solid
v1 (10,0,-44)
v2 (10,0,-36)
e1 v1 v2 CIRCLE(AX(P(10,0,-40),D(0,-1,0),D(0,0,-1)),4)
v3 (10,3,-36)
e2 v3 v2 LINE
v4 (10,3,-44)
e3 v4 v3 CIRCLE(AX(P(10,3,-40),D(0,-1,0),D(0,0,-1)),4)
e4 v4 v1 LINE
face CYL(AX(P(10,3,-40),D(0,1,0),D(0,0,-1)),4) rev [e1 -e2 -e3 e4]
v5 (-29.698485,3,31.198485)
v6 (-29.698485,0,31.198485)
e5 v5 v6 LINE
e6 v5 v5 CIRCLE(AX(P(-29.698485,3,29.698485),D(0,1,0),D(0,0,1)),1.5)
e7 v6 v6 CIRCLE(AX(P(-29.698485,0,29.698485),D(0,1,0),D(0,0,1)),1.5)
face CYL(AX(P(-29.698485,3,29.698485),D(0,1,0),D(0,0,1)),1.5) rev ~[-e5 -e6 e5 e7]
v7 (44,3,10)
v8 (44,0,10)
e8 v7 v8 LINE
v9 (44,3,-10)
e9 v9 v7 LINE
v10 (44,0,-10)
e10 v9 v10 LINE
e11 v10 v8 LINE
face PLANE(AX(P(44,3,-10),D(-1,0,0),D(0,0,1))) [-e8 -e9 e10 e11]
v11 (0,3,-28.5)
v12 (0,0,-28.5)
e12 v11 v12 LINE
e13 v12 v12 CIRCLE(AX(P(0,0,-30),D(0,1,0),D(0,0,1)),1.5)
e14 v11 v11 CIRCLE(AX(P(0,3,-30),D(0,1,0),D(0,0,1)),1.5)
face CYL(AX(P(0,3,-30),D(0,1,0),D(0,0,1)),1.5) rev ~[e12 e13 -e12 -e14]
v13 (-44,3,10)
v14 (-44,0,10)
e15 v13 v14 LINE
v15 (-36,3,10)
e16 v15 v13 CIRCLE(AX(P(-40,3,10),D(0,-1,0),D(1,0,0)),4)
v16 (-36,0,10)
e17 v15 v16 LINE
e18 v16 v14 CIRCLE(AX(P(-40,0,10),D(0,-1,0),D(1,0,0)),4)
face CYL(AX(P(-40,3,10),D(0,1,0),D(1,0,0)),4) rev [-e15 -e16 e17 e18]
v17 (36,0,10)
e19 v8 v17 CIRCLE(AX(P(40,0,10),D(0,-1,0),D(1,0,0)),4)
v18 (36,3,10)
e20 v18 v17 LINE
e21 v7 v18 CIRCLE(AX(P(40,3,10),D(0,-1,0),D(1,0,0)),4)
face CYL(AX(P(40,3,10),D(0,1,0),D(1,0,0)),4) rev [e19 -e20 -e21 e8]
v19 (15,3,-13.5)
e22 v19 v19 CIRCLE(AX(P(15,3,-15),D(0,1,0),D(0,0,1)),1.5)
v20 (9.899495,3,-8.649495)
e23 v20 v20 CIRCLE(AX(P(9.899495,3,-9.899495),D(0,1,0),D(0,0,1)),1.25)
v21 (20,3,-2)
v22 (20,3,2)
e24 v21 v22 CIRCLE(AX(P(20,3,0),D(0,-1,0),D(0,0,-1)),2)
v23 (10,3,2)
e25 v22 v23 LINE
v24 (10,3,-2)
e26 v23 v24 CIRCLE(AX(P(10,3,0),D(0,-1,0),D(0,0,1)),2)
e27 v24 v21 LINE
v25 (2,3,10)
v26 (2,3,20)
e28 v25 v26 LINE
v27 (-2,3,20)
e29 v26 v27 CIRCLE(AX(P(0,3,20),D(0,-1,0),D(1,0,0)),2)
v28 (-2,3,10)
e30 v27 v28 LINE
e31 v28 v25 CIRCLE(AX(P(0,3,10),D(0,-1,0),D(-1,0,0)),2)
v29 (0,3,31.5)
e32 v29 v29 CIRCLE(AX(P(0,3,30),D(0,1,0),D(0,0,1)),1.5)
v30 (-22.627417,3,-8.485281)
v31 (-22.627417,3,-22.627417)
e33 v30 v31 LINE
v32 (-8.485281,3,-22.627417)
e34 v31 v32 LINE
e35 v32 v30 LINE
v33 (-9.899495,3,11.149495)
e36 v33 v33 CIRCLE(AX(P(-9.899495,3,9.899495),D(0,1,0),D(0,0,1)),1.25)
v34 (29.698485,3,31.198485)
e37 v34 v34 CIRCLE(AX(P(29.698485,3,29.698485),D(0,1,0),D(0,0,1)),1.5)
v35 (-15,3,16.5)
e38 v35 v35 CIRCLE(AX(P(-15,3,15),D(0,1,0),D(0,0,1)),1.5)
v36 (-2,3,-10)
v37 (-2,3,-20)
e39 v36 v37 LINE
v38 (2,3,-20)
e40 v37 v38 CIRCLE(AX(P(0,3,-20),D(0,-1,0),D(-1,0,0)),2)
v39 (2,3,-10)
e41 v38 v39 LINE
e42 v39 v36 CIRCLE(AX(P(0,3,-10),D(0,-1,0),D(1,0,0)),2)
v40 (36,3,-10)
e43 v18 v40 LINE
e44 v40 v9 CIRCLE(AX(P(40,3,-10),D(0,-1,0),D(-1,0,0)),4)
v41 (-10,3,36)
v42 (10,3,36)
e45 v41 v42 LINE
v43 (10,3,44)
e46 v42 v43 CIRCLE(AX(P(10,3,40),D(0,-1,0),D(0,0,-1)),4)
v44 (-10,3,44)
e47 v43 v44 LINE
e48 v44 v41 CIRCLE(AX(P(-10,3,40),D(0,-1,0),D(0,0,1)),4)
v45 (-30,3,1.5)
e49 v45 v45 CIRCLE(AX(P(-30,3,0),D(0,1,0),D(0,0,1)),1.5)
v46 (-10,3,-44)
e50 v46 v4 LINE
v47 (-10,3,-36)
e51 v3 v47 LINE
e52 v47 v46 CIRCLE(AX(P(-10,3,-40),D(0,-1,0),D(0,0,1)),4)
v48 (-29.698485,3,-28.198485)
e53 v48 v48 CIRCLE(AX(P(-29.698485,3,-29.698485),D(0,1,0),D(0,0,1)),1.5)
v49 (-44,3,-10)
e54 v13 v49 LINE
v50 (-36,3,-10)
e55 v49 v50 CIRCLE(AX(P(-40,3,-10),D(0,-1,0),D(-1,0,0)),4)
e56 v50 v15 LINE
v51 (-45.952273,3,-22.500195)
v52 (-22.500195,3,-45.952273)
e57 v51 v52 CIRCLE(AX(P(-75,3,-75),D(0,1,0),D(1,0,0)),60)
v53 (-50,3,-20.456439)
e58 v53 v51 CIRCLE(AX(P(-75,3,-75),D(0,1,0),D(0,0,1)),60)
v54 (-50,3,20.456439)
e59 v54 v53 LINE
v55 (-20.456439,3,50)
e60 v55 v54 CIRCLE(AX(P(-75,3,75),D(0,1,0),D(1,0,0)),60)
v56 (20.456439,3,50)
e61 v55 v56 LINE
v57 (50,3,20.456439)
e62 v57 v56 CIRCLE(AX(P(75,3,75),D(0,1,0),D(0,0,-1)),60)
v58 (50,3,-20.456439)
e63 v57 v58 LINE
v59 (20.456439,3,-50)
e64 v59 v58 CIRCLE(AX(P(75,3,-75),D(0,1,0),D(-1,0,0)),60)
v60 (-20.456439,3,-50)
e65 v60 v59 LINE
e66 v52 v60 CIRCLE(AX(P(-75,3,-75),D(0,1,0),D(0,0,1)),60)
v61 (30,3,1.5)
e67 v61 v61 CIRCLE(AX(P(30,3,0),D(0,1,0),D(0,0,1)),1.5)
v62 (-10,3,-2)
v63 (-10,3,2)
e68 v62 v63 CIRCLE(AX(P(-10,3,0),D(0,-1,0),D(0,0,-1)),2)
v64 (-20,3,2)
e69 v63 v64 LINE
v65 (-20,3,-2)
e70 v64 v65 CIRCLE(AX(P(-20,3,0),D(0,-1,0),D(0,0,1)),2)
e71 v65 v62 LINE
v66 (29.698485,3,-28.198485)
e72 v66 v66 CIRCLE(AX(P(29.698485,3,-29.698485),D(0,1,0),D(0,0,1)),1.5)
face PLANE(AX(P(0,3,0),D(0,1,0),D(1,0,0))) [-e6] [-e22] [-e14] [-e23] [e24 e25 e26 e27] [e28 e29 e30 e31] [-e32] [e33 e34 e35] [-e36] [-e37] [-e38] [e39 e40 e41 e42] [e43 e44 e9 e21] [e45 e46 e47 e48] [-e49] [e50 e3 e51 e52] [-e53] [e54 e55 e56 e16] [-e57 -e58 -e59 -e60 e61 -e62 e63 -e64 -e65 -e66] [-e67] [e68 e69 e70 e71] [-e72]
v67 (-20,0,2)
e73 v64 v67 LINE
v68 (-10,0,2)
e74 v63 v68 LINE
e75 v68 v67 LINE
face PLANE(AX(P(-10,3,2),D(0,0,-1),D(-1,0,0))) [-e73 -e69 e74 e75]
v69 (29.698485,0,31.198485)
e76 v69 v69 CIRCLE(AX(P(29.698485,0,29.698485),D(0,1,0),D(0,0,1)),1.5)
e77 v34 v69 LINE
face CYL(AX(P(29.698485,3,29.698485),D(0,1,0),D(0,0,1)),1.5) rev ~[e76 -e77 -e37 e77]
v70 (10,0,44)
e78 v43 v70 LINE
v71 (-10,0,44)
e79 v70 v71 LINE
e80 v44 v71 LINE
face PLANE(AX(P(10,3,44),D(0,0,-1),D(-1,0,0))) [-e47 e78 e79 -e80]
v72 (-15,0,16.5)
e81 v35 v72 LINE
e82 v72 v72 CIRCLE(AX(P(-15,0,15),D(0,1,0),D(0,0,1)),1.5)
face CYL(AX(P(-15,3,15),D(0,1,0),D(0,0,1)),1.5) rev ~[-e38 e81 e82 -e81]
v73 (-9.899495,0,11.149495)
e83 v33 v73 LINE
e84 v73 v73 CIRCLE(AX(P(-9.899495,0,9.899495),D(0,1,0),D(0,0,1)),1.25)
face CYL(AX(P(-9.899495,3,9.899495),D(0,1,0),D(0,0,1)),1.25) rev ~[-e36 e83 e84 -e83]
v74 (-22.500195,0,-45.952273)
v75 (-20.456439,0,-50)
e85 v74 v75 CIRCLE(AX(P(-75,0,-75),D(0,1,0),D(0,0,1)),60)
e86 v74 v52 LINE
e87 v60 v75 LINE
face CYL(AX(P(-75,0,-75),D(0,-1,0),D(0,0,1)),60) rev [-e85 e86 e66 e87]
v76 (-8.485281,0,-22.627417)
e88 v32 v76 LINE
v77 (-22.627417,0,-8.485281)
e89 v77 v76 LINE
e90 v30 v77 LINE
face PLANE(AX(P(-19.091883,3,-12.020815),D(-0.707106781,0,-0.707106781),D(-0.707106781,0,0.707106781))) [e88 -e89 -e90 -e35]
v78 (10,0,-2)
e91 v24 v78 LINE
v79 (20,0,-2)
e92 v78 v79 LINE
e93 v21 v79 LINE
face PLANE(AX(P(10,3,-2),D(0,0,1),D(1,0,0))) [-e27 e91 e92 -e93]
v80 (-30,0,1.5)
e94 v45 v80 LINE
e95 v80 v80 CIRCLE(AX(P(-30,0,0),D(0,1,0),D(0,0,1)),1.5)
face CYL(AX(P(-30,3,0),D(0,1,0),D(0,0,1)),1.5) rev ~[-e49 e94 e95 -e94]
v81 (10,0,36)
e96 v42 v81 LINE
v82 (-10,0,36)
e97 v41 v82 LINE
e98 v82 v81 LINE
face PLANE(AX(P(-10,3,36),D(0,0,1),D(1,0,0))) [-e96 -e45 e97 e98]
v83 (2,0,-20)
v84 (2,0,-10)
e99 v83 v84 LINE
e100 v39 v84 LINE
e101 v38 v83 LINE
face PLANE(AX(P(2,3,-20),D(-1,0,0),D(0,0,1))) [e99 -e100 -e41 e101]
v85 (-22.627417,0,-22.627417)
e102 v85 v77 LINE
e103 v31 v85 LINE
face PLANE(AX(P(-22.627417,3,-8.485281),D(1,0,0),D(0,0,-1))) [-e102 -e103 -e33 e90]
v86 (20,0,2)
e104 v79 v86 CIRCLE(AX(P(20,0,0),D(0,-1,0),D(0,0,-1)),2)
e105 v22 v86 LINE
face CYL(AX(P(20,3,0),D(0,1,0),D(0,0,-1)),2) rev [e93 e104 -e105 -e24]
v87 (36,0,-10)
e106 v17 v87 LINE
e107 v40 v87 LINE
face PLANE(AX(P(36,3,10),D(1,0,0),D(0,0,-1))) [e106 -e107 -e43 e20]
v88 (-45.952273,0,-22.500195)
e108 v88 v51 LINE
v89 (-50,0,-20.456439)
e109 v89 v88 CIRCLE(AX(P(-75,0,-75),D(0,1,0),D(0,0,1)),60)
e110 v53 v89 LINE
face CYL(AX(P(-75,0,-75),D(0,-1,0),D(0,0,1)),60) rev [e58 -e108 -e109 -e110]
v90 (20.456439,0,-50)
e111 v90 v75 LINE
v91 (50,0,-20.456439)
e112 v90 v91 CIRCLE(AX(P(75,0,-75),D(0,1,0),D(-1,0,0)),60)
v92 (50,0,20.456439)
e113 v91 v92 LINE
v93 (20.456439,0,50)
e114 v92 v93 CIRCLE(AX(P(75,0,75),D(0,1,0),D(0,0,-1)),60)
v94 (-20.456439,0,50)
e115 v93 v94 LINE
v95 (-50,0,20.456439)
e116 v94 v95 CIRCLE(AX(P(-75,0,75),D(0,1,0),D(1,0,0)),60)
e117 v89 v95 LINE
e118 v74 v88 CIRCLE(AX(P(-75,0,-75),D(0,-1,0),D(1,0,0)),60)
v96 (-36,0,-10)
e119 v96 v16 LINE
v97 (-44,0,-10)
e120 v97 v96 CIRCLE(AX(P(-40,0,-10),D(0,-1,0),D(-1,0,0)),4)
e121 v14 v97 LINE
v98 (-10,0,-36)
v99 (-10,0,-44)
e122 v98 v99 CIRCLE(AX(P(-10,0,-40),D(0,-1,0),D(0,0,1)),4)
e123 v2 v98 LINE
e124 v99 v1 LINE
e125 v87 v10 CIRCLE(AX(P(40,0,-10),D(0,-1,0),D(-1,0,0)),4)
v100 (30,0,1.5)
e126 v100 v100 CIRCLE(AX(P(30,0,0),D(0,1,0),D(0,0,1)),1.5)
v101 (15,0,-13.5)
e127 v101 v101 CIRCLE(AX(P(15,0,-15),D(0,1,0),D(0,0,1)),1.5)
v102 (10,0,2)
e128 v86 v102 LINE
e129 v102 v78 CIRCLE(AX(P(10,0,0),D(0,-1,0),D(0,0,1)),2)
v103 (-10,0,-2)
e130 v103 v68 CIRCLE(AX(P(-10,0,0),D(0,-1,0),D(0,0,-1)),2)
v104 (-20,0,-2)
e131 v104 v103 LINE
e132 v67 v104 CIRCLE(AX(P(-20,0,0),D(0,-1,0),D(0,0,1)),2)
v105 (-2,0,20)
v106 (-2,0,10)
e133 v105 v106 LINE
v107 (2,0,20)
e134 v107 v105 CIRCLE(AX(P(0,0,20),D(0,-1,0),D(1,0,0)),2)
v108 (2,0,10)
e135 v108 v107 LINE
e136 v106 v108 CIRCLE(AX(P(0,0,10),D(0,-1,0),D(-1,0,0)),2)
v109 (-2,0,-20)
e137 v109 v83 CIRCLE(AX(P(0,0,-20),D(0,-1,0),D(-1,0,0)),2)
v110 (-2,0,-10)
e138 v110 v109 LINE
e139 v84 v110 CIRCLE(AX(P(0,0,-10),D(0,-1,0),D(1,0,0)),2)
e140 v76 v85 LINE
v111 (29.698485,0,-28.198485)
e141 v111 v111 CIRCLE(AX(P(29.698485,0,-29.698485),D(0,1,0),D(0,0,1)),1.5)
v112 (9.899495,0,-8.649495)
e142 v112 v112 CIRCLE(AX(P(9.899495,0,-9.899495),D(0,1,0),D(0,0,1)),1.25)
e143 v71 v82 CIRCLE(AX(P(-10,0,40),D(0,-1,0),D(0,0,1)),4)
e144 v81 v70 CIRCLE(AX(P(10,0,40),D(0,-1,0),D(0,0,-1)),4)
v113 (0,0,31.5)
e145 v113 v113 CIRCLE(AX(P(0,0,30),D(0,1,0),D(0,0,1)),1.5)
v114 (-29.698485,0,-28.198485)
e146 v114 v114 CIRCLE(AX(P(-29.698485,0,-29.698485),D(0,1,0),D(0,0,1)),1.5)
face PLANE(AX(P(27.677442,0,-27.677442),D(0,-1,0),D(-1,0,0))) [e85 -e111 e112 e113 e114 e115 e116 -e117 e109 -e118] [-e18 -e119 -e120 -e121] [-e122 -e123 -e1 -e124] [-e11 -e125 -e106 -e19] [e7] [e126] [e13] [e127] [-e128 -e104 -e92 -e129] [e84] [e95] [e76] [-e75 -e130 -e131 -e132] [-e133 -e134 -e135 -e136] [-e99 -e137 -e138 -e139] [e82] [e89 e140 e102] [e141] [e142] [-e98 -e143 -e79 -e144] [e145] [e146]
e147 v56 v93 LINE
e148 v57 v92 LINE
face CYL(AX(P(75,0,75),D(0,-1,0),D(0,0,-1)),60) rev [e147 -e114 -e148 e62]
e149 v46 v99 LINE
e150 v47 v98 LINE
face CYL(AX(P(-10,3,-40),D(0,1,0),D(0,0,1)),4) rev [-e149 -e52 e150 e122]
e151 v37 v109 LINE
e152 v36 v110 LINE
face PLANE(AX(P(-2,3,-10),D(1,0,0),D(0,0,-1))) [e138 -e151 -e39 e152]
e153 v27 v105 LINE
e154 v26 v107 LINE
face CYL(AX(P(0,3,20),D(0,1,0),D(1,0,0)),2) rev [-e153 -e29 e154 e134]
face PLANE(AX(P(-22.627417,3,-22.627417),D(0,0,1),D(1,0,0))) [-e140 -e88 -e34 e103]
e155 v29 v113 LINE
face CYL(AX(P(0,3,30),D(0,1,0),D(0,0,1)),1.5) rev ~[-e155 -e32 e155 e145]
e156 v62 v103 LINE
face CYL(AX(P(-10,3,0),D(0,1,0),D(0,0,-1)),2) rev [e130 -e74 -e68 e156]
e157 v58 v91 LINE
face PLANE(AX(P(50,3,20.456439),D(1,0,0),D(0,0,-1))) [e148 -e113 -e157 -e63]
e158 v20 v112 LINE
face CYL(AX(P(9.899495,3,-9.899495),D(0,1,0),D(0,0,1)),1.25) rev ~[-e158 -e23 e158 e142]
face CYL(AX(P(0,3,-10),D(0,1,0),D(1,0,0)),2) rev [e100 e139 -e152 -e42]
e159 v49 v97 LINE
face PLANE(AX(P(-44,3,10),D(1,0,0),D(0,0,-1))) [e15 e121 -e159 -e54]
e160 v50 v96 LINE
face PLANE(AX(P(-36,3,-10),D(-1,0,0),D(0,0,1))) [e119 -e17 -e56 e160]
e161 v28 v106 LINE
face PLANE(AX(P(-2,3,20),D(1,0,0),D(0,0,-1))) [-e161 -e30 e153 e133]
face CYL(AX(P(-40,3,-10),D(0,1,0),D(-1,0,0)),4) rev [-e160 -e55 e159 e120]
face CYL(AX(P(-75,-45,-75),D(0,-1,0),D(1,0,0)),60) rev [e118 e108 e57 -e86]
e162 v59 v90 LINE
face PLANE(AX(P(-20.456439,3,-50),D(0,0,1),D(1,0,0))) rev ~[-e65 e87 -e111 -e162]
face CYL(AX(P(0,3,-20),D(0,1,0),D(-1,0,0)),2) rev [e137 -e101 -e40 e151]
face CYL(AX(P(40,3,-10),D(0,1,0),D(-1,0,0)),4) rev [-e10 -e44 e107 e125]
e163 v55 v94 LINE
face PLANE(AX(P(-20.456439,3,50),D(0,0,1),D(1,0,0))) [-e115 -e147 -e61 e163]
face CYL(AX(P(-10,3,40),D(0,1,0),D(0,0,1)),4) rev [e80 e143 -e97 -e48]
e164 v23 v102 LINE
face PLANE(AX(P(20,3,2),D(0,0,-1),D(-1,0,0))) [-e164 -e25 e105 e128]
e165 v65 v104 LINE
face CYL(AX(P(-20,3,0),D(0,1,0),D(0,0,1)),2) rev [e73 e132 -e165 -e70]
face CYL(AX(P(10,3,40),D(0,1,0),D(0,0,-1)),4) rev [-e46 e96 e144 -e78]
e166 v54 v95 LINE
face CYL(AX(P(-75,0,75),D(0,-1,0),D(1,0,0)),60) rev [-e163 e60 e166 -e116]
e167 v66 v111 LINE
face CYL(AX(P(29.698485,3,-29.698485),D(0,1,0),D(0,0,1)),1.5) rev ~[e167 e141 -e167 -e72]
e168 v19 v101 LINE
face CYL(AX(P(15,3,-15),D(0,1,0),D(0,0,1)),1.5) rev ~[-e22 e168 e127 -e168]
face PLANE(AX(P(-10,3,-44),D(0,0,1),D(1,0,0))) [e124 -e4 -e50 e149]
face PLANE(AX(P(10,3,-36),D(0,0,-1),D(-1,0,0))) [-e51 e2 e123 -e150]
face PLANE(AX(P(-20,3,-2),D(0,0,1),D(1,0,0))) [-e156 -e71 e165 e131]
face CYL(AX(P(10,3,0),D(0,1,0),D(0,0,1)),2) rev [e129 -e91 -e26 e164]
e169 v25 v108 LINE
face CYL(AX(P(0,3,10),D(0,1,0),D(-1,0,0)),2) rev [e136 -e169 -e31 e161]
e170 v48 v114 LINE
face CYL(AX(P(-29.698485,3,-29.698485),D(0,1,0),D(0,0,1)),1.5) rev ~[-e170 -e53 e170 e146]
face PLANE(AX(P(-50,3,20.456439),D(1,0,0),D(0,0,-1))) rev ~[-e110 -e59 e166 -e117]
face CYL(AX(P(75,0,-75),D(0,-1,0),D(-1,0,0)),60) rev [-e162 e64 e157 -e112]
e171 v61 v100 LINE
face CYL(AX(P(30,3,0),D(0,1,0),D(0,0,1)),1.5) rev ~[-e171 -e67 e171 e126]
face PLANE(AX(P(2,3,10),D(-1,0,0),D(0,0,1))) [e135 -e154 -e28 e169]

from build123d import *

# Parameters (mm, degrees)
SKETCH_1_R               = 1.25
EXTRUDE_1_DEPTH          = 3
SKETCH_2_R               = 1.5
CUT_EXTRUDE_1_DEPTH      = 3
CUT_EXTRUDE_2_DEPTH      = 3
CUT_EXTRUDE_3_DEPTH      = 3
CUT_EXTRUDE_4_DEPTH      = 10
SKETCH_6_R               = 1.5
CUT_EXTRUDE_5_DEPTH      = 10
SKETCH_7_R               = 1.5
CUT_EXTRUDE_8_DEPTH      = 10
SKETCH_8_R               = 1.5
CUT_EXTRUDE_9_DEPTH      = 10
SKETCH_9_R               = 15
CUT_EXTRUDE_10_DEPTH     = 10
SKETCH_11_R              = 1.5
EXTRUDE_3_DEPTH          = 3
CUT_EXTRUDE_12_DEPTH     = 3
EXTRUDE_4_DEPTH          = 3
SKETCH_15_R              = 15
EXTRUDE_5_DEPTH          = 3
CUT_EXTRUDE_13_DEPTH     = 3
EXTRUDE_START            = -3
EXTRUDE_7_DEPTH          = 3
CUT_EXTRUDE_14_DEPTH     = 3
CUT_EXTRUDE_15_DEPTH     = 3
PATTERN_CIRCULAR_1_COUNT = 8
SKETCH_22_R              = 1.25
CUT_EXTRUDE_17_DEPTH     = 3
SKETCH_23_R              = 1.5
CUT_EXTRUDE_18_DEPTH     = 10
SKETCH_24_R              = 1.5
CUT_EXTRUDE_19_DEPTH     = 10
CUT_EXTRUDE_START        = -48
CUT_EXTRUDE_21_DEPTH     = 48
SKETCH_26_W              = 47.062790234
SKETCH_26_H              = 40.912878854
SKETCH_26_W_2            = 40.912878854
SKETCH_26_H_2            = 47.062790234
CUT_EXTRUDE_22_DEPTH     = 48


with BuildPart() as part:
    # 草图1 → 凸台-拉伸1 (new body)
    # profile 1 of 4: a face of its own
    with BuildSketch(Plane(origin=(0, 0, 0), x_dir=(1, 0, 0), z_dir=(0, 1, 0))):
        with BuildLine():
            ThreePointArc((75, -15), (32.573593129, -32.573593129), (15, -75))
            Line((15, -75), (0, -75))
            Line((0, -75), (0, 0))
            Line((0, 0), (75, 0))
            Line((75, 0), (75, -15))
        make_face()
        with Locations(Location((11, -70, 0), (0, 0, 270))):
            Circle(SKETCH_1_R, mode=Mode.SUBTRACT)
        with Locations(Location((70, -11, 0), (0, 0, 270))):
            Circle(SKETCH_1_R, mode=Mode.SUBTRACT)
    # profile 2 of 4: a face of its own
    with BuildSketch(Plane(origin=(0, 0, 0), x_dir=(1, 0, 0), z_dir=(0, 1, 0))):
        with BuildLine():
            ThreePointArc((-15, -75), (-32.573593129, -32.573593129), (-75, -15))
            Line((-75, -15), (-75, 0))
            Line((-75, 0), (0, 0))
            Line((0, 0), (0, -75))
            Line((0, -75), (-15, -75))
        make_face()
        with Locations(Location((-70, -11, 0), (0, 0, 270))):
            Circle(SKETCH_1_R, mode=Mode.SUBTRACT)
        with Locations(Location((-11, -70, 0), (0, 0, 270))):
            Circle(SKETCH_1_R, mode=Mode.SUBTRACT)
    # profile 3 of 4: a face of its own
    with BuildSketch(Plane(origin=(0, 0, 0), x_dir=(1, 0, 0), z_dir=(0, 1, 0))):
        with BuildLine():
            ThreePointArc((-75, 15), (-32.573593129, 32.573593129), (-15, 75))
            Line((-15, 75), (0, 75))
            Line((0, 75), (0, 0))
            Line((0, 0), (-75, 0))
            Line((-75, 0), (-75, 15))
        make_face()
        with Locations(Location((-11, 70, 0), (0, 0, 270))):
            Circle(SKETCH_1_R, mode=Mode.SUBTRACT)
        with Locations(Location((-70, 11, 0), (0, 0, 270))):
            Circle(SKETCH_1_R, mode=Mode.SUBTRACT)
    # profile 4 of 4: a face of its own
    with BuildSketch(Plane(origin=(0, 0, 0), x_dir=(1, 0, 0), z_dir=(0, 1, 0))):
        with BuildLine():
            ThreePointArc((15, 75), (32.573593129, 32.573593129), (75, 15))
            Line((75, 15), (75, 0))
            Line((75, 0), (0, 0))
            Line((0, 0), (0, 75))
            Line((0, 75), (15, 75))
        make_face()
        with Locations(Location((70, 11, 0), (0, 0, 270))):
            Circle(SKETCH_1_R, mode=Mode.SUBTRACT)
        with Locations(Location((11, 70, 0), (0, 0, 270))):
            Circle(SKETCH_1_R, mode=Mode.SUBTRACT)
    extrude(amount=EXTRUDE_1_DEPTH)

    # 草图2 → 切除-拉伸1 (cut)
    with BuildSketch(Plane.XZ):
        with Locations(Location((0.353553391, -31.466251763, 0), (0, 0, 270))):
            Circle(SKETCH_2_R)
        with Locations(Location((31.466251763, -0.353553391, 0), (0, 0, 270))):
            Circle(SKETCH_2_R)
        with Locations(Location((-0.353553391, 31.466251763, 0), (0, 0, 90))):
            Circle(SKETCH_2_R)
        with Locations(Location((-31.466251763, 0.353553391, 0), (0, 0, 90))):
            Circle(SKETCH_2_R)
    extrude(amount=-CUT_EXTRUDE_1_DEPTH, mode=Mode.SUBTRACT)

    # 草图3 → 切除-拉伸2 (cut)
    with BuildSketch(Plane(origin=(0, 3, 0), x_dir=(1, 0, 0), z_dir=(0, 1, 0))):
        Polygon((-15.556349186, 15.556349186), (-12.02081528, 19.091883092), (-22.627416998, 22.627416998), align=None)
        Polygon((-19.091883092, 12.02081528), (-15.556349186, 15.556349186), (-22.627416998, 22.627416998), align=None)
    extrude(amount=-CUT_EXTRUDE_2_DEPTH, mode=Mode.SUBTRACT)

    # 草图4 → 切除-拉伸3 (cut)
    with BuildSketch(Plane(origin=(0, 3, 0), x_dir=(1, 0, 0), z_dir=(0, 1, 0))):
        with BuildLine():
            ThreePointArc((33.944668714, -19.80253309), (34.043922781, -8.582763971), (22.827665534, -8.285032838))
            Line((22.827665534, -8.285032838), (15.556349186, -15.556349186))
            Line((15.556349186, -15.556349186), (8.285032838, -22.827665534))
            ThreePointArc((8.285032838, -22.827665534), (8.582763971, -34.043922781), (19.80253309, -33.944668714))
            Line((19.80253309, -33.944668714), (33.944668714, -19.80253309))
        make_face()
    extrude(amount=-CUT_EXTRUDE_3_DEPTH, mode=Mode.SUBTRACT)

    # 草图5 → 切除-拉伸4 (cut)
    with BuildSketch(Plane(origin=(0, 3, 0), x_dir=(1, 0, 0), z_dir=(0, 1, 0))):
        Polygon((-22.627416998, 8.485281374), (-22.627416998, 22.627416998), (-19.091883092, 12.02081528), align=None)
        Polygon((-12.02081528, 19.091883092), (-22.627416998, 22.627416998), (-8.485281374, 22.627416998), align=None)
    extrude(amount=-CUT_EXTRUDE_4_DEPTH, mode=Mode.SUBTRACT)

    # 草图6 → 切除-拉伸5 (cut)
    with BuildSketch(Plane(origin=(0, 3, 0), x_dir=(1, 0, 0), z_dir=(0, 1, 0))):
        with Locations(Location((-35.355339059, -21.213203436, 0), (0, 0, 270))):
            Circle(SKETCH_6_R)
        with Locations(Location((-21.213203436, -35.355339059, 0), (0, 0, 270))):
            Circle(SKETCH_6_R)
        with Locations(Location((35.355339059, 21.213203436, 0), (0, 0, 270))):
            Circle(SKETCH_6_R)
        with Locations(Location((21.213203436, 35.355339059, 0), (0, 0, 270))):
            Circle(SKETCH_6_R)
    extrude(amount=-CUT_EXTRUDE_5_DEPTH, mode=Mode.SUBTRACT)

    # 草图7 → 切除-拉伸8 (cut)
    with BuildSketch(Plane(origin=(0, 3, 0), x_dir=(1, 0, 0), z_dir=(0, 1, 0))):
        with Locations(Location((-29.69848481, 29.69848481, 0), (0, 0, 270))):
            Circle(SKETCH_7_R)
        with Locations(Location((29.69848481, 29.69848481, 0), (0, 0, 270))):
            Circle(SKETCH_7_R)
        with Locations(Location((29.69848481, -29.69848481, 0), (0, 0, 270))):
            Circle(SKETCH_7_R)
        with Locations(Location((-29.69848481, -29.69848481, 0), (0, 0, 270))):
            Circle(SKETCH_7_R)
    extrude(amount=-CUT_EXTRUDE_8_DEPTH, mode=Mode.SUBTRACT)

    # 草图8 → 切除-拉伸9 (cut)
    with BuildSketch(Plane(origin=(0, 3, 0), x_dir=(1, 0, 0), z_dir=(0, 1, 0))):
        with Locations(Location((-11, 55, 0), (0, 0, 270))):
            Circle(SKETCH_8_R)
        with Locations(Location((11, 55, 0), (0, 0, 270))):
            Circle(SKETCH_8_R)
        with Locations(Location((55, 11, 0), (0, 0, 270))):
            Circle(SKETCH_8_R)
        with Locations(Location((55, -11, 0), (0, 0, 270))):
            Circle(SKETCH_8_R)
        with Locations(Location((11, -55, 0), (0, 0, 270))):
            Circle(SKETCH_8_R)
        with Locations(Location((-11, -55, 0), (0, 0, 270))):
            Circle(SKETCH_8_R)
        with Locations(Location((-55, -11, 0), (0, 0, 270))):
            Circle(SKETCH_8_R)
        with Locations(Location((-55, 11, 0), (0, 0, 270))):
            Circle(SKETCH_8_R)
    extrude(amount=-CUT_EXTRUDE_9_DEPTH, mode=Mode.SUBTRACT)

    # 草图9 → 切除-拉伸10 (cut)
    with BuildSketch(Plane(origin=(0, 3, 0), x_dir=(1, 0, 0), z_dir=(0, 1, 0))):
        with Locations(Location((0, 0, 0), (0, 0, 270))):
            Circle(SKETCH_9_R)
    extrude(amount=-CUT_EXTRUDE_10_DEPTH, mode=Mode.SUBTRACT)

    # 草图11 → 凸台-拉伸3 (add)
    with BuildSketch(Plane(origin=(0, 3, 0), x_dir=(1, 0, 0), z_dir=(0, 1, 0))):
        with Locations((-35.355339059, -21.213203436)):
            Circle(SKETCH_11_R)
        with Locations((35.355339059, 21.213203436)):
            Circle(SKETCH_11_R)
        with Locations((21.213203436, 35.355339059)):
            Circle(SKETCH_11_R)
        with Locations((0.353553391, 31.466251763)):
            Circle(SKETCH_11_R)
        with Locations((31.466251763, 0.353553391)):
            Circle(SKETCH_11_R)
        with Locations((-0.353553391, -31.466251763)):
            Circle(SKETCH_11_R)
        with Locations((-31.466251763, -0.353553391)):
            Circle(SKETCH_11_R)
        with Locations((-21.213203436, -35.355339059)):
            Circle(SKETCH_11_R)
    extrude(amount=-EXTRUDE_3_DEPTH)

    # 草图12 → 切除-拉伸12 (cut)
    with BuildSketch(Plane(origin=(0, 3, 0), x_dir=(1, 0, 0), z_dir=(0, 1, 0))):
        with BuildLine():
            Line((-44, -10), (-44, 10))
            ThreePointArc((-44, 10), (-40, 14), (-36, 10))
            Line((-36, 10), (-36, -10))
            ThreePointArc((-36, -10), (-40, -14), (-44, -10))
        make_face()
        with BuildLine():
            Line((-10, 44), (10, 44))
            ThreePointArc((10, 44), (14, 40), (10, 36))
            Line((10, 36), (-10, 36))
            ThreePointArc((-10, 36), (-14, 40), (-10, 44))
        make_face()
        with BuildLine():
            Line((44, 10), (44, -10))
            ThreePointArc((44, -10), (40, -14), (36, -10))
            Line((36, -10), (36, 10))
            ThreePointArc((36, 10), (40, 14), (44, 10))
        make_face()
        with BuildLine():
            Line((10, -44), (-10, -44))
            ThreePointArc((-10, -44), (-14, -40), (-10, -36))
            Line((-10, -36), (10, -36))
            ThreePointArc((10, -36), (14, -40), (10, -44))
        make_face()
    extrude(amount=-CUT_EXTRUDE_12_DEPTH, mode=Mode.SUBTRACT)

    # 草图14 → 凸台-拉伸4 (add)
    with BuildSketch(Plane(origin=(0, 3, 0), x_dir=(1, 0, 0), z_dir=(0, 1, 0))):
        with BuildLine():
            ThreePointArc((32.185650849, -7.152183109), (27.322232167, -6.195143755), (22.827665534, -8.285032838))
            Line((22.827665534, -8.285032838), (21.61516096, -18.569682002))
            ThreePointArc((21.61516096, -18.569682002), (27.487806659, -22.107425519), (33.944668714, -19.80253309))
            ThreePointArc((33.944668714, -19.80253309), (35.679936943, -17.205520658), (36.289282113, -14.142135624))
            ThreePointArc((36.289282113, -14.142135624), (35.187559777, -10.089382679), (32.185650849, -7.152183109))
        make_face()
        with BuildLine():
            Line((22.827665534, -8.285032838), (22.427168462, -8.685529911))
            ThreePointArc((22.427168462, -8.685529911), (20.306137435, -13.486712231), (21.61516096, -18.569682002))
            Line((21.61516096, -18.569682002), (22.827665534, -8.285032838))
        make_face()
        with BuildLine():
            Line((22.427168462, -8.685529911), (8.285032838, -22.827665534))
            ThreePointArc((8.285032838, -22.827665534), (8.582763971, -34.043922781), (19.80253309, -33.944668714))
            Line((19.80253309, -33.944668714), (21.61516096, -18.569682002))
            ThreePointArc((21.61516096, -18.569682002), (20.306137435, -13.486712231), (22.427168462, -8.685529911))
        make_face()
        with BuildLine():
            Line((21.61516096, -18.569682002), (19.80253309, -33.944668714))
            Line((19.80253309, -33.944668714), (33.944668714, -19.80253309))
            ThreePointArc((33.944668714, -19.80253309), (27.487806659, -22.107425519), (21.61516096, -18.569682002))
        make_face()
    extrude(amount=-EXTRUDE_4_DEPTH)

    # 草图15 → 凸台-拉伸5 (add)
    with BuildSketch(Plane(origin=(0, 3, 0), x_dir=(1, 0, 0), z_dir=(0, 1, 0))):
        Circle(SKETCH_15_R)
    extrude(amount=-EXTRUDE_5_DEPTH)

    # 草图17 → 切除-拉伸13 (cut)
    with BuildSketch(Plane(origin=(0, 3, 0), x_dir=(1, 0, 0), z_dir=(0, 1, 0))):
        with BuildLine():
            Line((-2, -20), (-2, -10))
            ThreePointArc((-2, -10), (0, -8), (2, -10))
            Line((2, -10), (2, -20))
            ThreePointArc((2, -20), (0, -22), (-2, -20))
        make_face()
        with BuildLine():
            Line((-20, 2), (-10, 2))
            ThreePointArc((-10, 2), (-8, 0), (-10, -2))
            Line((-10, -2), (-20, -2))
            ThreePointArc((-20, -2), (-22, 0), (-20, 2))
        make_face()
        with BuildLine():
            Line((2, 20), (2, 10))
            ThreePointArc((2, 10), (0, 8), (-2, 10))
            Line((-2, 10), (-2, 20))
            ThreePointArc((-2, 20), (0, 22), (2, 20))
        make_face()
        with BuildLine():
            Line((20, -2), (10, -2))
            ThreePointArc((10, -2), (8, 0), (10, 2))
            Line((10, 2), (20, 2))
            ThreePointArc((20, 2), (22, 0), (20, -2))
        make_face()
    extrude(amount=-CUT_EXTRUDE_13_DEPTH, mode=Mode.SUBTRACT)

    # 草图18 → 凸台-拉伸7 (add)
    with BuildSketch(Plane(origin=(0, 3, 0), x_dir=(1, 0, 0), z_dir=(0, 1, 0)).offset(EXTRUDE_START)):
        with BuildLine():
            Line((-61.977302058, 38.525223259), (-50.251262658, 50.251262658))
            Line((-50.251262658, 50.251262658), (-38.525223259, 61.977302058))
            ThreePointArc((-38.525223259, 61.977302058), (-38.078377186, 64.938218885), (-37.928932188, 67.928932188))
            ThreePointArc((-37.928932188, 67.928932188), (-91.15121571, 86.921708395), (-61.977302058, 38.525223259))
        make_face()
        with BuildLine():
            ThreePointArc((-61.977302058, 38.525223259), (-53.742560533, 41.49511182), (-46.715728753, 46.715728753))
            Line((-46.715728753, 46.715728753), (-50.251262658, 50.251262658))
            Line((-50.251262658, 50.251262658), (-61.977302058, 38.525223259))
        make_face()
        with BuildLine():
            Line((-50.251262658, 50.251262658), (-46.715728753, 46.715728753))
            ThreePointArc((-46.715728753, 46.715728753), (-41.49511182, 53.742560534), (-38.525223259, 61.977302058))
            Line((-38.525223259, 61.977302058), (-50.251262658, 50.251262658))
        make_face()
        with BuildLine():
            ThreePointArc((-45.952273324, 22.500194525), (-38.909748111, 27.067821679), (-32.573593129, 32.573593129))
            Line((-32.573593129, 32.573593129), (-46.715728753, 46.715728753))
            ThreePointArc((-46.715728753, 46.715728753), (-53.742560533, 41.49511182), (-61.977302058, 38.525223259))
            Line((-61.977302058, 38.525223259), (-45.952273324, 22.500194525))
        make_face()
        with BuildLine():
            Line((-46.715728753, 46.715728753), (-32.573593129, 32.573593129))
            ThreePointArc((-32.573593129, 32.573593129), (-27.067821679, 38.909748111), (-22.500194525, 45.952273324))
            Line((-22.500194525, 45.952273324), (-38.525223259, 61.977302058))
            ThreePointArc((-38.525223259, 61.977302058), (-41.49511182, 53.742560534), (-46.715728753, 46.715728753))
        make_face()
    extrude(amount=EXTRUDE_7_DEPTH)

    # 草图19 → 切除-拉伸14 (cut)
    with BuildSketch(Plane(origin=(0, 3, 0), x_dir=(1, 0, 0), z_dir=(0, 1, 0))):
        with BuildLine():
            ThreePointArc((-37.140781925, 51.282917549), (-39.866501787, 47.012431525), (-43.180194847, 43.180194847))
            Line((-43.180194847, 43.180194847), (-36.109127035, 36.109127035))
            ThreePointArc((-36.109127035, 36.109127035), (-32.750813989, 39.866501787), (-29.833680261, 43.975815885))
            Line((-29.833680261, 43.975815885), (-37.140781925, 51.282917549))
        make_face()
        with BuildLine():
            Line((-36.109127035, 36.109127035), (-43.180194847, 43.180194847))
            ThreePointArc((-43.180194847, 43.180194847), (-47.012431525, 39.866501787), (-51.282917549, 37.140781925))
            Line((-51.282917549, 37.140781925), (-43.975815885, 29.833680261))
            ThreePointArc((-43.975815885, 29.833680261), (-39.866501787, 32.750813989), (-36.109127035, 36.109127035))
        make_face()
    extrude(amount=-CUT_EXTRUDE_14_DEPTH, mode=Mode.SUBTRACT)

    # 草图21 → 切除-拉伸15 (cut)
    with BuildSketch(Plane(origin=(0, 3, 0), x_dir=(1, 0, 0), z_dir=(0, 1, 0))):
        with BuildLine():
            Line((-81.187184335, 82.954951288), (-74.116116524, 75.883883476))
            ThreePointArc((-74.116116524, 75.883883476), (-74.116116524, 74.116116524), (-75.883883476, 74.116116524))
            Line((-75.883883476, 74.116116524), (-82.954951288, 81.187184335))
            ThreePointArc((-82.954951288, 81.187184335), (-82.954951288, 82.954951288), (-81.187184335, 82.954951288))
        make_face()
        with BuildLine():
            Line((-59.9739809, 61.741747853), (-52.902913088, 54.670680041))
            ThreePointArc((-52.902913088, 54.670680041), (-52.902913088, 52.902913088), (-54.670680041, 52.902913088))
            Line((-54.670680041, 52.902913088), (-61.741747853, 59.9739809))
            ThreePointArc((-61.741747853, 59.9739809), (-61.741747853, 61.741747853), (-59.9739809, 61.741747853))
        make_face()
    cut_extrude_15 = extrude(amount=-CUT_EXTRUDE_15_DEPTH, mode=Mode.SUBTRACT)

    # 阵列(圆周)1: 切除-拉伸15 ×8 about axis
    pattern_circular_1_axis = Axis((-67.928932188, 0, -67.928932188), (0, 1, 0))
    for i in range(1, PATTERN_CIRCULAR_1_COUNT):
        add(cut_extrude_15.rotate(pattern_circular_1_axis, i * 360 / PATTERN_CIRCULAR_1_COUNT), mode=Mode.SUBTRACT)

    # 草图22 → 切除-拉伸17 (cut)
    with BuildSketch(Plane(origin=(0, 3, 0), x_dir=(1, 0, 0), z_dir=(0, 1, 0))):
        with Locations(Location((9.899494937, 9.899494937, 0), (0, 0, 270))):
            Circle(SKETCH_22_R)
        with Locations(Location((-9.899494937, -9.899494937, 0), (0, 0, 270))):
            Circle(SKETCH_22_R)
    extrude(amount=-CUT_EXTRUDE_17_DEPTH, mode=Mode.SUBTRACT)

    # 草图23 → 切除-拉伸18 (cut)
    with BuildSketch(Plane(origin=(0, 3, 0), x_dir=(1, 0, 0), z_dir=(0, 1, 0))):
        with Locations(Location((0, 30, 0), (0, 0, 270))):
            Circle(SKETCH_23_R)
        with Locations(Location((30, 0, 0), (0, 0, 270))):
            Circle(SKETCH_23_R)
        with Locations(Location((0, -30, 0), (0, 0, 270))):
            Circle(SKETCH_23_R)
        with Locations(Location((-30, 0, 0), (0, 0, 270))):
            Circle(SKETCH_23_R)
    extrude(amount=-CUT_EXTRUDE_18_DEPTH, mode=Mode.SUBTRACT)

    # 草图24 → 切除-拉伸19 (cut)
    with BuildSketch(Plane(origin=(0, 3, 0), x_dir=(1, 0, 0), z_dir=(0, 1, 0))):
        with Locations(Location((-15, -15, 0), (0, 0, 270))):
            Circle(SKETCH_24_R)
        with Locations(Location((15, 15, 0), (0, 0, 270))):
            Circle(SKETCH_24_R)
    extrude(amount=-CUT_EXTRUDE_19_DEPTH, mode=Mode.SUBTRACT)

    # 草图25 → 切除-拉伸21 (cut)
    with BuildSketch(Plane(origin=(0, 3, 0), x_dir=(1, 0, 0), z_dir=(0, 1, 0)).offset(CUT_EXTRUDE_START)):
        with BuildLine():
            ThreePointArc((-22.500194525, 45.952273324), (-16.905300033, 59.999805477), (-15, 75))
            ThreePointArc((-15, 75), (-133.094699967, 90.000194523), (-22.500194525, 45.952273324))
        make_face()
    extrude(amount=CUT_EXTRUDE_21_DEPTH, mode=Mode.SUBTRACT)

    # 草图26 → 切除-拉伸22 (cut)
    with BuildSketch(Plane(origin=(0, 3, 0), x_dir=(1, 0, 0), z_dir=(0, 1, 0))):
        with Locations((73.531395117, 0)):
            Rectangle(SKETCH_26_W, SKETCH_26_H)
        with Locations((0, 73.531395117)):
            Rectangle(SKETCH_26_W_2, SKETCH_26_H_2)
        with Locations((-73.531395117, 0)):
            Rectangle(SKETCH_26_W, SKETCH_26_H)
        with Locations((0, -73.531395117)):
            Rectangle(SKETCH_26_W_2, SKETCH_26_H_2)
    extrude(amount=-CUT_EXTRUDE_22_DEPTH, mode=Mode.SUBTRACT)


solid = part.part
